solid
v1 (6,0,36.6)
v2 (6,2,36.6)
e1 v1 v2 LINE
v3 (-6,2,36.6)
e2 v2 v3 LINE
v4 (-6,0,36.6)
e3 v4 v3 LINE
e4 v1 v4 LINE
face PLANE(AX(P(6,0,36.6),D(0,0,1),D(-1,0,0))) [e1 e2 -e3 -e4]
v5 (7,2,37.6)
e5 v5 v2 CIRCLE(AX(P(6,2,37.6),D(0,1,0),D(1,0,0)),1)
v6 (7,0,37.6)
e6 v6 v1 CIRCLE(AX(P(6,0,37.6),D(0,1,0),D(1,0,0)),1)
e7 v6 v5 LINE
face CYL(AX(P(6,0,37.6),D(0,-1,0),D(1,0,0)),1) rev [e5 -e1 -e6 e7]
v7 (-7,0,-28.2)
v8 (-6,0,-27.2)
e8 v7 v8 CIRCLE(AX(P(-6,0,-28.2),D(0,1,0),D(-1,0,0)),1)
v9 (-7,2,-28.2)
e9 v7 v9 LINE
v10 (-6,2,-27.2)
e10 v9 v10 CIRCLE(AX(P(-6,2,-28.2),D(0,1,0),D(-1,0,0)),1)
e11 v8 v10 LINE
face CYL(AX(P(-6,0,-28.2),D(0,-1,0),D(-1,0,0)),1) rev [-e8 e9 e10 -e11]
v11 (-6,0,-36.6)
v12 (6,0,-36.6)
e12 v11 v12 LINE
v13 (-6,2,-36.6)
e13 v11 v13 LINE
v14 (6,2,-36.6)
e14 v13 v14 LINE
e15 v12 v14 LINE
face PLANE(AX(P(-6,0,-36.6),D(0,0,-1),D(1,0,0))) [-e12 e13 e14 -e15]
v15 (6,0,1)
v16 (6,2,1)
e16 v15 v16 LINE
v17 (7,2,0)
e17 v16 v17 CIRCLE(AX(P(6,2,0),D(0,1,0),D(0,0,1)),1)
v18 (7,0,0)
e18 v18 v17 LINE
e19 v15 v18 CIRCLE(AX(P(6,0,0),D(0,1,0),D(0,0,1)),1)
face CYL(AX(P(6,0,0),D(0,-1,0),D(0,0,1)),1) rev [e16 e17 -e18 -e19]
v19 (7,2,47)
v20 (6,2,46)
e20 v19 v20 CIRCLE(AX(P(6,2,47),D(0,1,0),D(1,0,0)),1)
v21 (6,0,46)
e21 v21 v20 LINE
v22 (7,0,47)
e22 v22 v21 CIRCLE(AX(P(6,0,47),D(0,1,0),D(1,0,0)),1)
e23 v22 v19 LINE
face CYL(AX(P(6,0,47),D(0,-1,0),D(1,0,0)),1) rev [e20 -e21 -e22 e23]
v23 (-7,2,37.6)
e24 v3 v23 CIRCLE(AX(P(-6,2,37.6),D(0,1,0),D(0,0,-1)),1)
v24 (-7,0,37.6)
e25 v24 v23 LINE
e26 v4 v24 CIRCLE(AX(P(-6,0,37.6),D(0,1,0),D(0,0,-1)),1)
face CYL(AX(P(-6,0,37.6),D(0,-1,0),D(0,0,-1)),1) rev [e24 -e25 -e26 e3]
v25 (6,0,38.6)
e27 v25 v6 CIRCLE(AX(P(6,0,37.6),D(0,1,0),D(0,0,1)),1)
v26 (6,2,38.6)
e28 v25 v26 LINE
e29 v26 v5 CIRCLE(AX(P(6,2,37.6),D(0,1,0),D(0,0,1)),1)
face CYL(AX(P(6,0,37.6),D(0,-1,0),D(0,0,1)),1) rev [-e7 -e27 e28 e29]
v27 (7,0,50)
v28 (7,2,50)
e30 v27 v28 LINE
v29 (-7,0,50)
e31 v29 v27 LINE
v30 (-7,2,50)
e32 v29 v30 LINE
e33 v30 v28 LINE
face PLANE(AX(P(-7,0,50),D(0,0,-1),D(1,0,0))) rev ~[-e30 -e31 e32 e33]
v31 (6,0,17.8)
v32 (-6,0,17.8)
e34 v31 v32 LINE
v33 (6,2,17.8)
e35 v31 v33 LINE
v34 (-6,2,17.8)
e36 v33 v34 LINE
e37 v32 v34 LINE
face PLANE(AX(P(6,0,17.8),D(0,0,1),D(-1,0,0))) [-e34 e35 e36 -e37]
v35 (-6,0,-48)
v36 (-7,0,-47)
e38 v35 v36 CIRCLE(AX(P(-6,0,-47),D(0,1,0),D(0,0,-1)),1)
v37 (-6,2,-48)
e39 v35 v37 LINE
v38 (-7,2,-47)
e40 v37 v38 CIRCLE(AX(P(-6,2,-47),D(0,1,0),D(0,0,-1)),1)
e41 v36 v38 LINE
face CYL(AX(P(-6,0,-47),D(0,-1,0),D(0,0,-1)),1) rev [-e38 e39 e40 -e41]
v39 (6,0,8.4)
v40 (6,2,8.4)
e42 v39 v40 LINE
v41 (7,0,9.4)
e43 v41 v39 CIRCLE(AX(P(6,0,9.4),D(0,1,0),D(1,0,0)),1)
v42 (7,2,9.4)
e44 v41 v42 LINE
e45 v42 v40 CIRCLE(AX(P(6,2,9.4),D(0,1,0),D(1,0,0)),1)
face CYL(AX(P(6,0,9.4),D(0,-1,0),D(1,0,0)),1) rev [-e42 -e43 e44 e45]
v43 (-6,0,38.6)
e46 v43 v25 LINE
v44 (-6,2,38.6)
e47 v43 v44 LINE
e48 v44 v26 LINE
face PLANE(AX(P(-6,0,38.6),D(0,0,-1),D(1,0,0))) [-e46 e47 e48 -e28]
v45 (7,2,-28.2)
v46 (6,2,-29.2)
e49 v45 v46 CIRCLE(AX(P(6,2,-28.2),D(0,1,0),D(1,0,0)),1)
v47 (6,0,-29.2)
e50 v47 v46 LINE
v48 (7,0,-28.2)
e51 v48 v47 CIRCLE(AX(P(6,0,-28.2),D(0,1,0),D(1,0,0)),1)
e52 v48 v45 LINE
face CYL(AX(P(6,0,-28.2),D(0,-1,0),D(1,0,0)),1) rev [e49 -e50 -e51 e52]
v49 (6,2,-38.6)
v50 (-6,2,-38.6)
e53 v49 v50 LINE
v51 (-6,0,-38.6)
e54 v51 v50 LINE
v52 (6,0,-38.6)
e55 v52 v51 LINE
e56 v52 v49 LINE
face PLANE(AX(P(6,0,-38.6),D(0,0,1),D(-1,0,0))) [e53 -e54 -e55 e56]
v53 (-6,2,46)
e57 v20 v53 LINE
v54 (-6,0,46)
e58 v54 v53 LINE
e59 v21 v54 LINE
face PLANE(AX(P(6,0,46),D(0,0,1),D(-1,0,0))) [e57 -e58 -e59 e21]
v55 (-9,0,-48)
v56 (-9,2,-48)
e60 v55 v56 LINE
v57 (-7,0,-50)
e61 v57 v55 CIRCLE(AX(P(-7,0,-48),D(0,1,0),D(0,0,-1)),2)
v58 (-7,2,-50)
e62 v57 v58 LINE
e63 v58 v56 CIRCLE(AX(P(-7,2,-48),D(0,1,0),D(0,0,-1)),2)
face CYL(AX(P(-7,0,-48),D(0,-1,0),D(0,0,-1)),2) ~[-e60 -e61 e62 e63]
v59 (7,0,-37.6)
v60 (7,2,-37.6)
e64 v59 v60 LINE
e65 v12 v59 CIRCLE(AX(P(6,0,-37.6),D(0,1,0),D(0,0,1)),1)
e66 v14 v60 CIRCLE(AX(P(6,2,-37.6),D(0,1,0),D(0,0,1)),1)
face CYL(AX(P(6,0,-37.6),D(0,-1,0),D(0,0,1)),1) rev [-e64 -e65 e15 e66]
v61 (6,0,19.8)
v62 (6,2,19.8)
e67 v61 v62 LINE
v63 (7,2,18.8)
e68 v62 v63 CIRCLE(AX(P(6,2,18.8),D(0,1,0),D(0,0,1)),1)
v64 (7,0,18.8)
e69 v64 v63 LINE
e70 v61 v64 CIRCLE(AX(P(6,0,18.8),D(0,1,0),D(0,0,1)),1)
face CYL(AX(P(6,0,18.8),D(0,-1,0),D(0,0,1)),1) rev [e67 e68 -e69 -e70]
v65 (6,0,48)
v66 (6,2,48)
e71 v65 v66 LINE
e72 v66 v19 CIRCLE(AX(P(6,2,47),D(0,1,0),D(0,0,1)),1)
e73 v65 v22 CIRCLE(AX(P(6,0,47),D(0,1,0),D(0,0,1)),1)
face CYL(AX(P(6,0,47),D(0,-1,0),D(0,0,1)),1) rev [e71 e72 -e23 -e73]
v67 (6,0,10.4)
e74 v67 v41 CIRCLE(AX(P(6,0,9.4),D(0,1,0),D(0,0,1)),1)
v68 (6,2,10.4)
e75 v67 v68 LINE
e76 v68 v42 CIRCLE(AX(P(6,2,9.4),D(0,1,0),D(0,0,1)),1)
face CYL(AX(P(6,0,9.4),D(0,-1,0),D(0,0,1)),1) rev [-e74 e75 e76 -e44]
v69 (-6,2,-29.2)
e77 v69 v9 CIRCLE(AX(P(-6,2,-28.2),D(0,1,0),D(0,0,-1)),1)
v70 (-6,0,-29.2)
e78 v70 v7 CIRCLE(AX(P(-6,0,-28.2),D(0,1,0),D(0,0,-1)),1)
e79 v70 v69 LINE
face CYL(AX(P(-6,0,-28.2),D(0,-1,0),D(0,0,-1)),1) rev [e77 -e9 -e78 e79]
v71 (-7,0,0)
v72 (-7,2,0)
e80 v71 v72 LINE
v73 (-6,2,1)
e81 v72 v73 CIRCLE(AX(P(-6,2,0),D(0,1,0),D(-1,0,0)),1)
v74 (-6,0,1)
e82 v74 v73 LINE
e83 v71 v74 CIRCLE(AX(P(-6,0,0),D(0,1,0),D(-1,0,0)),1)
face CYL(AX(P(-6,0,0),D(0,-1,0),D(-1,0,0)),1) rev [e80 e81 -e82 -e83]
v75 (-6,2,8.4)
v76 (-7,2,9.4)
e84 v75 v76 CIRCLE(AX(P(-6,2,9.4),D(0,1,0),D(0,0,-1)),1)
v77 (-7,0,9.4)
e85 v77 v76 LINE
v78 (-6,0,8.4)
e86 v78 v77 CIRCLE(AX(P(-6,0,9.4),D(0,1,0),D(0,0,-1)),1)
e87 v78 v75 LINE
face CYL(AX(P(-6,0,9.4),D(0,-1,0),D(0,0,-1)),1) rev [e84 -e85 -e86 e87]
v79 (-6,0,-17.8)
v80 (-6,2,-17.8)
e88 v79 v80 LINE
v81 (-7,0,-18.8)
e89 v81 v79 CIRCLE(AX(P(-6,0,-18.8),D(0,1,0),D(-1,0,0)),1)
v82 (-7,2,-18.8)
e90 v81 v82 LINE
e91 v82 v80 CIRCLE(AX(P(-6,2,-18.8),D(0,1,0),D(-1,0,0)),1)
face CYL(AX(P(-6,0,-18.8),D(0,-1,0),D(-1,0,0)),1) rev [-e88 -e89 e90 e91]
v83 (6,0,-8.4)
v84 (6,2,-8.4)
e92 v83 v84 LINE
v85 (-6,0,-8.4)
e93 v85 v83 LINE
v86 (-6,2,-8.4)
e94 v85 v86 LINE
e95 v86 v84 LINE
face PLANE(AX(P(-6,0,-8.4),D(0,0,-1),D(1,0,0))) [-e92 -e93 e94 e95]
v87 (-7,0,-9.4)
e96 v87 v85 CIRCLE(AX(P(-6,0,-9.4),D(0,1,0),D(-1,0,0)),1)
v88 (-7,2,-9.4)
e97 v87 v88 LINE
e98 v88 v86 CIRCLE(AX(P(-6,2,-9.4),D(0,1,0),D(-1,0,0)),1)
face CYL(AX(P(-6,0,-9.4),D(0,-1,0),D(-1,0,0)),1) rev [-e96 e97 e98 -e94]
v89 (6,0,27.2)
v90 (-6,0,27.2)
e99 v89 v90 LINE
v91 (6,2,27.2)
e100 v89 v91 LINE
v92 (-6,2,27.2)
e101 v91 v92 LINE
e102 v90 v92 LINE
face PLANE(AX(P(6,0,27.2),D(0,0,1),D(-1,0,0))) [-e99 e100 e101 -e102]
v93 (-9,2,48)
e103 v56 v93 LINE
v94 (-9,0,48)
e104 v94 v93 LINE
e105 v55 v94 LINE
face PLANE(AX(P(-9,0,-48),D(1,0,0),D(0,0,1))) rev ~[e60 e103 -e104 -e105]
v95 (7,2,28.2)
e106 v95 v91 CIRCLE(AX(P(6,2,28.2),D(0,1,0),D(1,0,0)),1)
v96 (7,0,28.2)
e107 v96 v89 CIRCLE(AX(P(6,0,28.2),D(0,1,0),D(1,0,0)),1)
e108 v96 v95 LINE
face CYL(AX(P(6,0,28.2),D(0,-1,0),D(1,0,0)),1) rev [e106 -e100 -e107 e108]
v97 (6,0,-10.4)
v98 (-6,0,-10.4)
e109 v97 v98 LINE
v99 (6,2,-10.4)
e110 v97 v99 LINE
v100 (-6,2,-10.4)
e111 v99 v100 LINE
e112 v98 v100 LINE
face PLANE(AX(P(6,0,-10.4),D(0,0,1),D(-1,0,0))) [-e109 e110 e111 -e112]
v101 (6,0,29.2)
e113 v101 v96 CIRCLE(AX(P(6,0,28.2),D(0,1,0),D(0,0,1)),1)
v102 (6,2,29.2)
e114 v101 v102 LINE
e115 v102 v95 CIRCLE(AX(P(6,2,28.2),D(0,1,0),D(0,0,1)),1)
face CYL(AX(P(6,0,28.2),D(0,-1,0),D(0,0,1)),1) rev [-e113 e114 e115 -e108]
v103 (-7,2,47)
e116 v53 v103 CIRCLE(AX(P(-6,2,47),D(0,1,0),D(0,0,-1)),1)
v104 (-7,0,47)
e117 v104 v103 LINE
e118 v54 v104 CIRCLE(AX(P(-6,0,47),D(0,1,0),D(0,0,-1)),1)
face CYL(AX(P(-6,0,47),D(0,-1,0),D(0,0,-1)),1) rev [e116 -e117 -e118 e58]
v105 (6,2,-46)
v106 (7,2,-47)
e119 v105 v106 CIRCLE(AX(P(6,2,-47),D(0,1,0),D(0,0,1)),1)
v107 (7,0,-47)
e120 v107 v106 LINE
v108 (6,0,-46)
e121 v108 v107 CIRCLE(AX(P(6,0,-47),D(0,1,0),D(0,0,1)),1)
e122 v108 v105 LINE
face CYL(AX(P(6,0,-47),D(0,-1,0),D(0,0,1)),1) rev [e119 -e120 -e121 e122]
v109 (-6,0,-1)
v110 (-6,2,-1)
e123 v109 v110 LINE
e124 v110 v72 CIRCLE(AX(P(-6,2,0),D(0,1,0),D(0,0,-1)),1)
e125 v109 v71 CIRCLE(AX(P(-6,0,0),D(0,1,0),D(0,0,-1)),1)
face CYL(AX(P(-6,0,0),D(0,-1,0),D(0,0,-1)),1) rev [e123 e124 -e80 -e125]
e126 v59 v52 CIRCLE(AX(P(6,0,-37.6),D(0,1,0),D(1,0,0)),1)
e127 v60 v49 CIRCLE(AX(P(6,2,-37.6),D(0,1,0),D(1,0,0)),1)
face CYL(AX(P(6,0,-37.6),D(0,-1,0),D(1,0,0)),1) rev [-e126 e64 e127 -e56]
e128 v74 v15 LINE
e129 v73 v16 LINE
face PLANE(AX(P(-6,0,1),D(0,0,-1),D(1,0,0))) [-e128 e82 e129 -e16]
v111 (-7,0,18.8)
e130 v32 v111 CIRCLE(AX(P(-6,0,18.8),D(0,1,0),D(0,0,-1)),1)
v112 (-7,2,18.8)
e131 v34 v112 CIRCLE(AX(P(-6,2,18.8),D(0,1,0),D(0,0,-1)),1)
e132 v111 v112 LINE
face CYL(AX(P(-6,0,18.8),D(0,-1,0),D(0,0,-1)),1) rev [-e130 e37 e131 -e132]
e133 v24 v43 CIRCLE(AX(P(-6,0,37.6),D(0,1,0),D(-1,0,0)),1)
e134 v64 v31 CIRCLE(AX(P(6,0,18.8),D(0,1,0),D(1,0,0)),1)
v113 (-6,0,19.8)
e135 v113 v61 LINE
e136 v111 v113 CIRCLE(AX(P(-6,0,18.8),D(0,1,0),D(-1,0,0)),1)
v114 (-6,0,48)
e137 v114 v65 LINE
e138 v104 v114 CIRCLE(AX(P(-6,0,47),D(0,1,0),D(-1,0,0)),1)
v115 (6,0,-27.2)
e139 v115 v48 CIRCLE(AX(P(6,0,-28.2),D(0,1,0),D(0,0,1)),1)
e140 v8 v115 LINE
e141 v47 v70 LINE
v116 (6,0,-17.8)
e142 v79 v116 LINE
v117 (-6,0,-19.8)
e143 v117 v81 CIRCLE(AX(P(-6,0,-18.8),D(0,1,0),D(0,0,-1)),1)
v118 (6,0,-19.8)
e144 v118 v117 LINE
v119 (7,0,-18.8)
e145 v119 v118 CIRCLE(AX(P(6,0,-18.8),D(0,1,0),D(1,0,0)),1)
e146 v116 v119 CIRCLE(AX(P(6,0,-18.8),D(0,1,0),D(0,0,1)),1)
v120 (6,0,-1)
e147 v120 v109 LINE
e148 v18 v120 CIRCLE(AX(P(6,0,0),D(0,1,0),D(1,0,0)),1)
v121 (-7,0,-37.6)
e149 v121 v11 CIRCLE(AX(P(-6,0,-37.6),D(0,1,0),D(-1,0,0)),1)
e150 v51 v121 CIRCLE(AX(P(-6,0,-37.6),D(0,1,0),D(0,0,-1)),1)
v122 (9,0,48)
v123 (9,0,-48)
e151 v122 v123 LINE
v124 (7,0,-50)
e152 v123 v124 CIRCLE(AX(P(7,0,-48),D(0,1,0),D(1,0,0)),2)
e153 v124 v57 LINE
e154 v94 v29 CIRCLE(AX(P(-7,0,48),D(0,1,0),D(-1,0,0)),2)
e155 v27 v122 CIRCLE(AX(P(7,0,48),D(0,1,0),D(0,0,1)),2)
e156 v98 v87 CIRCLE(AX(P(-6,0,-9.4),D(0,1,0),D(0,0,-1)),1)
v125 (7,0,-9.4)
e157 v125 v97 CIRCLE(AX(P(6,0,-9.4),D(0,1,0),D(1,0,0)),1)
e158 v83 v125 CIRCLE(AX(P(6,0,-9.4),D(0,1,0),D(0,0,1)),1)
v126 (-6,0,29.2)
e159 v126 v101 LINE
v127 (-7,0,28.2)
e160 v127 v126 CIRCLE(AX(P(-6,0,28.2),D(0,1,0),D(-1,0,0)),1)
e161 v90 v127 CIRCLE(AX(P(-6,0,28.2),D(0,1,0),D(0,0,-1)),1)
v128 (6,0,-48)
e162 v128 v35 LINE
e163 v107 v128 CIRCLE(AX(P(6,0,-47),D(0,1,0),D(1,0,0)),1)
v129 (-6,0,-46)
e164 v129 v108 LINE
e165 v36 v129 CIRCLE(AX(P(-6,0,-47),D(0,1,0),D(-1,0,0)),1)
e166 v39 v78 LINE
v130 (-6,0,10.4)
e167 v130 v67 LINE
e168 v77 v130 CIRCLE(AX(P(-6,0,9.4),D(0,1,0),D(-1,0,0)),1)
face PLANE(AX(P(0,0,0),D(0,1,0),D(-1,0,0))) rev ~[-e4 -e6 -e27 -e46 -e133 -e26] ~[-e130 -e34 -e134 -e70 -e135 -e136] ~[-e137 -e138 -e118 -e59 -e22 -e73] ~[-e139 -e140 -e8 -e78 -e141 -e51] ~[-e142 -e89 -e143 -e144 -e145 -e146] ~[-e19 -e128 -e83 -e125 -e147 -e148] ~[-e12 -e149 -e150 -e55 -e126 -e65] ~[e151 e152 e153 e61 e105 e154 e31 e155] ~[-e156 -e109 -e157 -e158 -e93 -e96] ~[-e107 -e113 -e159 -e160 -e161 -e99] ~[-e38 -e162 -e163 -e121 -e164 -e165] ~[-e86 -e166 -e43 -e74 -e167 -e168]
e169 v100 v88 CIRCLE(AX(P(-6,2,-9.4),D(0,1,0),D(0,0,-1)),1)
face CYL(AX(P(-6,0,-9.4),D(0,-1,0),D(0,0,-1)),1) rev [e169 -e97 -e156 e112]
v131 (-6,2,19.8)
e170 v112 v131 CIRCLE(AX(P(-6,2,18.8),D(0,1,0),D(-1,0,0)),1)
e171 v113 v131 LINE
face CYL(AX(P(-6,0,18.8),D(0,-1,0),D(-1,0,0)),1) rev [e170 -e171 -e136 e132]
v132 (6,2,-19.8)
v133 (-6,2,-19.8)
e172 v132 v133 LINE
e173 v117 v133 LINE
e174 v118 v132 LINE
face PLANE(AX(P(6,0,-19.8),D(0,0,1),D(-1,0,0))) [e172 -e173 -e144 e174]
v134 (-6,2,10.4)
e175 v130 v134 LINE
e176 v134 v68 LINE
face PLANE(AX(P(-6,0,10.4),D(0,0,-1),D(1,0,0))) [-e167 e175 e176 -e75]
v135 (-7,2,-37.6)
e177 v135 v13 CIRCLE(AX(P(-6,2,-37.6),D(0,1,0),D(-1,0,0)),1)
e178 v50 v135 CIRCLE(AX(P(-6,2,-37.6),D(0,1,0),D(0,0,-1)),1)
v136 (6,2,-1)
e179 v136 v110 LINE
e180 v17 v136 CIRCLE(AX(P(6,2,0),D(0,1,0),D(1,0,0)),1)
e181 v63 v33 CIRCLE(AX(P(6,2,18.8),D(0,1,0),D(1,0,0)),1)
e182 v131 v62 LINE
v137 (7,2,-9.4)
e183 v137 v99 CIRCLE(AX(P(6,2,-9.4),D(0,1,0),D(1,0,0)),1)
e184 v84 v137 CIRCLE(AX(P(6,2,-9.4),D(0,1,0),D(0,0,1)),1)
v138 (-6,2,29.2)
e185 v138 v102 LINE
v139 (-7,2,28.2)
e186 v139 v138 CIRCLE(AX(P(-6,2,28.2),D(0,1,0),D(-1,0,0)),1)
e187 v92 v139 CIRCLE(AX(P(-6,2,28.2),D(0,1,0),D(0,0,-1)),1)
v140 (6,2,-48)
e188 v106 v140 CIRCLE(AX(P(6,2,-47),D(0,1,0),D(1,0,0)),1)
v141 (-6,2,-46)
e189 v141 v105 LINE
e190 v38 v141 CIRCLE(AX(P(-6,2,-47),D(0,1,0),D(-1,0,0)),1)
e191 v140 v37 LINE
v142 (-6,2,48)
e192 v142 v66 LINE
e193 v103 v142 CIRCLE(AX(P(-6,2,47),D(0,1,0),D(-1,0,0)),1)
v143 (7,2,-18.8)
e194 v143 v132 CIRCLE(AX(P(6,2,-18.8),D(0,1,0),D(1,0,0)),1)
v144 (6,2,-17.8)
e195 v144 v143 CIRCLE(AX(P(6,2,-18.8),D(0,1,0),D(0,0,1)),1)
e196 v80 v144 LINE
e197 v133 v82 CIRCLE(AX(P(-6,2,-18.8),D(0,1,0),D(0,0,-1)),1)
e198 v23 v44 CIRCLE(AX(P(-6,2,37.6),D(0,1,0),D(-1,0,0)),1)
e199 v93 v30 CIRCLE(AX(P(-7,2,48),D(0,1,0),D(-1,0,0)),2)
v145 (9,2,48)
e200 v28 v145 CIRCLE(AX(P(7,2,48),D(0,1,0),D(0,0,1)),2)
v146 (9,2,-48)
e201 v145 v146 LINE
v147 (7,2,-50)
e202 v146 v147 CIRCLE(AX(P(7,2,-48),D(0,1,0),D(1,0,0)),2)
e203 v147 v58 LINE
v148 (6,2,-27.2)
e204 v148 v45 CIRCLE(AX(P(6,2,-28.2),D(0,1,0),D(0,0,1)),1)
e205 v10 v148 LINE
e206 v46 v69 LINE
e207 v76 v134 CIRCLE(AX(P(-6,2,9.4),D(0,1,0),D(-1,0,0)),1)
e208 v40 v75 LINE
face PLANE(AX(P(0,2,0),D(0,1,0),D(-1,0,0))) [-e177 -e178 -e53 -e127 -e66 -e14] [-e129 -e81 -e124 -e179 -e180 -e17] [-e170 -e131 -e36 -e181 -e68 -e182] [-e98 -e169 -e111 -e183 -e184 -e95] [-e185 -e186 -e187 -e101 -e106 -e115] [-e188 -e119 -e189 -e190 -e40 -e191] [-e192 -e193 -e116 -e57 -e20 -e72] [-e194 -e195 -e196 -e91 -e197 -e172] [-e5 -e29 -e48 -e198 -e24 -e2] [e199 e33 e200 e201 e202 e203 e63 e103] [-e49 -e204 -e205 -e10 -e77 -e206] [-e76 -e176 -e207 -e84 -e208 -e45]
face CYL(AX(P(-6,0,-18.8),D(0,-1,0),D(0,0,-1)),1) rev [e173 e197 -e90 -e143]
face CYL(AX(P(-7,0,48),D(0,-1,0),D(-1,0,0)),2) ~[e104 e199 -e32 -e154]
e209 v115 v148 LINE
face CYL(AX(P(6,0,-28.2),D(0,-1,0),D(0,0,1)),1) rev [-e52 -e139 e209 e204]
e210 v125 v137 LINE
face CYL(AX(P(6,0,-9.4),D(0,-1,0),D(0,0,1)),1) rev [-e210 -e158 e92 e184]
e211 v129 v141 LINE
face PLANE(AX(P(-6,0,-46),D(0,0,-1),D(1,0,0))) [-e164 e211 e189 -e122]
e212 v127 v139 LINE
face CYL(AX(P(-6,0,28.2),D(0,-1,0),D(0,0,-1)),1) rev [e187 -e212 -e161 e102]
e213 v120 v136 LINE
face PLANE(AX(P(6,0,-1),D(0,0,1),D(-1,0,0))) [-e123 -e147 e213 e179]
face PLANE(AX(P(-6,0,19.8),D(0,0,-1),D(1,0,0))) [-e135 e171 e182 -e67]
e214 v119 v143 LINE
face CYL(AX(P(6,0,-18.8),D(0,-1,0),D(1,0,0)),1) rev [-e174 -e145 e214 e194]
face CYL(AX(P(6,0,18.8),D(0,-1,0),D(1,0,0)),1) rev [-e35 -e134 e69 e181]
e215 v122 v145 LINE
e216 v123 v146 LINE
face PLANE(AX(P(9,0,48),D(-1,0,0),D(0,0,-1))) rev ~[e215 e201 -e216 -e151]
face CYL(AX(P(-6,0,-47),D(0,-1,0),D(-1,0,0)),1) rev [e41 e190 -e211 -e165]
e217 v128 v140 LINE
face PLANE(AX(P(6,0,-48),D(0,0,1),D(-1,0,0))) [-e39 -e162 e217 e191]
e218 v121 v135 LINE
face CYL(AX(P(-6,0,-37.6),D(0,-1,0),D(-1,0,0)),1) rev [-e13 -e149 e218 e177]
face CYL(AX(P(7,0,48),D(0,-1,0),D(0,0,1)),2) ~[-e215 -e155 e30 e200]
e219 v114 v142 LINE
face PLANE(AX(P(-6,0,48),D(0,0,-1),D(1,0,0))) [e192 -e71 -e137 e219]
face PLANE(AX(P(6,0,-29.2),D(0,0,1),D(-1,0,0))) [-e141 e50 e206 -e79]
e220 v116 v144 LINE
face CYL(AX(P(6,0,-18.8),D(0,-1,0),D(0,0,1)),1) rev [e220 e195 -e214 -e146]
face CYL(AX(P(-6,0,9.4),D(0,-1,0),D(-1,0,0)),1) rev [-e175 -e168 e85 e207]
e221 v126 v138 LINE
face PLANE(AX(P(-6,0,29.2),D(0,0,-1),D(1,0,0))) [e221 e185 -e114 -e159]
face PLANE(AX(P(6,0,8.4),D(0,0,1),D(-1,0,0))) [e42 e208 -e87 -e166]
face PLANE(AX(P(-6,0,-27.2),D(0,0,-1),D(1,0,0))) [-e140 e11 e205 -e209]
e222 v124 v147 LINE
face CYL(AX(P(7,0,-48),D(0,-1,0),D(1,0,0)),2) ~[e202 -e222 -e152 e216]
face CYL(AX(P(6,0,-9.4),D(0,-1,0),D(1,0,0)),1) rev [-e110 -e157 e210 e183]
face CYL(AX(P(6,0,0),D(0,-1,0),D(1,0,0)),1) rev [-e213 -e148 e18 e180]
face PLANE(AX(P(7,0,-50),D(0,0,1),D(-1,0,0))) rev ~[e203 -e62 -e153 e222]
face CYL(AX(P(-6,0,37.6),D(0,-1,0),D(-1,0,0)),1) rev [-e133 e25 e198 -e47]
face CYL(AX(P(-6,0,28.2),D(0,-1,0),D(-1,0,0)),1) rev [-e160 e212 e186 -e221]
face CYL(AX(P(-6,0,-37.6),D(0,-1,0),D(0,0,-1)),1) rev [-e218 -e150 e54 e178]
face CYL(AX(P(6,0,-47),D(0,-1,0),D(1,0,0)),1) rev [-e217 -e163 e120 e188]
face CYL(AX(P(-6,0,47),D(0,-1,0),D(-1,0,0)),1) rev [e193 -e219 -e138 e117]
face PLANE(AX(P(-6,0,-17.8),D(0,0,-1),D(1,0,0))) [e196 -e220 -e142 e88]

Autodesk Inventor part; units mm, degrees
ref_plane "YZ Plane" through (0, 0, 0) normal (1, 0, 0) x (0, 1, 0)
ref_plane "XZ Plane" through (0, 0, 0) normal (0, 1, 0) x (-1, 0, 0)
ref_plane "XY Plane" through (0, 0, 0) normal (0, 0, 1) x (1, 0, 0)
sketch "Sketch1" plane through (0, 0, 0) normal (0, 1, 0) x (-1, 0, 0)
  line L0 (-9, 48) -> (-9, -48)
  line L1 (-7, -50) -> (7, -50)
  line L2 (9, -48) -> (9, 48)
  line L3 (7, 50) -> (-7, 50)
  line L4 (-9, 50) -> (9, -50) construction
  line L5 (-9, -50) -> (9, 50) construction
  arc A0 (9, 48) -> (7, 50) centre (7, 48) ccw
  arc A1 (-7, 50) -> (-9, 48) centre (-7, 48) ccw
  arc A2 (-9, -48) -> (-7, -50) centre (-7, -48) ccw
  arc A3 (7, -50) -> (9, -48) centre (7, -48) ccw
  line L6 (-7, 47) -> (-7, 47)
  line L7 (-6, 46) -> (6, 46)
  line L8 (7, 47) -> (7, 47)
  line L9 (6, 48) -> (-6, 48)
  arc A4 (7, 47) -> (6, 48) centre (6, 47) ccw
  arc A5 (6, 46) -> (7, 47) centre (6, 47) ccw
  arc A6 (-6, 48) -> (-7, 47) centre (-6, 47) ccw
  arc A7 (-7, 47) -> (-6, 46) centre (-6, 47) ccw
  line L10 (-7, 37.6) -> (-7, 37.6)
  line L11 (-6, 36.6) -> (6, 36.6)
  line L12 (7, 37.6) -> (7, 37.6)
  line L13 (6, 38.6) -> (-6, 38.6)
  arc A8 (7, 37.6) -> (6, 38.6) centre (6, 37.6) ccw
  arc A9 (6, 36.6) -> (7, 37.6) centre (6, 37.6) ccw
  arc A10 (-6, 38.6) -> (-7, 37.6) centre (-6, 37.6) ccw
  arc A11 (-7, 37.6) -> (-6, 36.6) centre (-6, 37.6) ccw
  line L14 (-7, 28.2) -> (-7, 28.2)
  line L15 (-6, 27.2) -> (6, 27.2)
  line L16 (7, 28.2) -> (7, 28.2)
  line L17 (6, 29.2) -> (-6, 29.2)
  arc A12 (7, 28.2) -> (6, 29.2) centre (6, 28.2) ccw
  arc A13 (6, 27.2) -> (7, 28.2) centre (6, 28.2) ccw
  arc A14 (-6, 29.2) -> (-7, 28.2) centre (-6, 28.2) ccw
  arc A15 (-7, 28.2) -> (-6, 27.2) centre (-6, 28.2) ccw
  line L18 (-7, 18.8) -> (-7, 18.8)
  line L19 (-6, 17.8) -> (6, 17.8)
  line L20 (7, 18.8) -> (7, 18.8)
  line L21 (6, 19.8) -> (-6, 19.8)
  arc A16 (7, 18.8) -> (6, 19.8) centre (6, 18.8) ccw
  arc A17 (6, 17.8) -> (7, 18.8) centre (6, 18.8) ccw
  arc A18 (-6, 19.8) -> (-7, 18.8) centre (-6, 18.8) ccw
  arc A19 (-7, 18.8) -> (-6, 17.8) centre (-6, 18.8) ccw
  line L22 (-7, 9.4) -> (-7, 9.4)
  line L23 (-6, 8.4) -> (6, 8.4)
  line L24 (7, 9.4) -> (7, 9.4)
  line L25 (6, 10.4) -> (-6, 10.4)
  arc A20 (7, 9.4) -> (6, 10.4) centre (6, 9.4) ccw
  arc A21 (6, 8.4) -> (7, 9.4) centre (6, 9.4) ccw
  arc A22 (-6, 10.4) -> (-7, 9.4) centre (-6, 9.4) ccw
  arc A23 (-7, 9.4) -> (-6, 8.4) centre (-6, 9.4) ccw
  line L26 (-7, 0) -> (-7, 0)
  line L27 (-6, -1) -> (6, -1)
  line L28 (7, 0) -> (7, 0)
  line L29 (6, 1) -> (-6, 1)
  arc A24 (7, 0) -> (6, 1) centre (6, 0) ccw
  arc A25 (6, -1) -> (7, 0) centre (6, 0) ccw
  arc A26 (-6, 1) -> (-7, 0) centre (-6, 0) ccw
  arc A27 (-7, 0) -> (-6, -1) centre (-6, 0) ccw
  line L30 (-7, -9.4) -> (-7, -9.4)
  line L31 (-6, -10.4) -> (6, -10.4)
  line L32 (7, -9.4) -> (7, -9.4)
  line L33 (6, -8.4) -> (-6, -8.4)
  arc A28 (7, -9.4) -> (6, -8.4) centre (6, -9.4) ccw
  arc A29 (6, -10.4) -> (7, -9.4) centre (6, -9.4) ccw
  arc A30 (-6, -8.4) -> (-7, -9.4) centre (-6, -9.4) ccw
  arc A31 (-7, -9.4) -> (-6, -10.4) centre (-6, -9.4) ccw
  line L34 (-7, -18.8) -> (-7, -18.8)
  line L35 (-6, -19.8) -> (6, -19.8)
  line L36 (7, -18.8) -> (7, -18.8)
  line L37 (6, -17.8) -> (-6, -17.8)
  arc A32 (7, -18.8) -> (6, -17.8) centre (6, -18.8) ccw
  arc A33 (6, -19.8) -> (7, -18.8) centre (6, -18.8) ccw
  arc A34 (-6, -17.8) -> (-7, -18.8) centre (-6, -18.8) ccw
  arc A35 (-7, -18.8) -> (-6, -19.8) centre (-6, -18.8) ccw
  line L38 (-7, -28.2) -> (-7, -28.2)
  line L39 (-6, -29.2) -> (6, -29.2)
  line L40 (7, -28.2) -> (7, -28.2)
  line L41 (6, -27.2) -> (-6, -27.2)
  arc A36 (7, -28.2) -> (6, -27.2) centre (6, -28.2) ccw
  arc A37 (6, -29.2) -> (7, -28.2) centre (6, -28.2) ccw
  arc A38 (-6, -27.2) -> (-7, -28.2) centre (-6, -28.2) ccw
  arc A39 (-7, -28.2) -> (-6, -29.2) centre (-6, -28.2) ccw
  line L42 (-7, -37.6) -> (-7, -37.6)
  line L43 (-6, -38.6) -> (6, -38.6)
  line L44 (7, -37.6) -> (7, -37.6)
  line L45 (6, -36.6) -> (-6, -36.6)
  arc A40 (7, -37.6) -> (6, -36.6) centre (6, -37.6) ccw
  arc A41 (6, -38.6) -> (7, -37.6) centre (6, -37.6) ccw
  arc A42 (-6, -36.6) -> (-7, -37.6) centre (-6, -37.6) ccw
  arc A43 (-7, -37.6) -> (-6, -38.6) centre (-6, -37.6) ccw
  line L46 (-7, -47) -> (-7, -47)
  line L47 (-6, -48) -> (6, -48)
  line L48 (7, -47) -> (7, -47)
  line L49 (6, -46) -> (-6, -46)
  arc A44 (7, -47) -> (6, -46) centre (6, -47) ccw
  arc A45 (6, -48) -> (7, -47) centre (6, -47) ccw
  arc A46 (-6, -46) -> (-7, -47) centre (-6, -47) ccw
  arc A47 (-7, -47) -> (-6, -48) centre (-6, -47) ccw
  point P0 (0, 0)
  point P1 (-7, 46)
  point P2 (7, 38.6)
  point P3 (-7, 38.6)
  point P4 (-7, 36.6)
  point P5 (7, 29.2)
  point P6 (-7, 29.2)
  point P7 (-7, 27.2)
  point P8 (7, 19.8)
  point P9 (-7, 19.8)
  point P10 (-7, 17.8)
  point P11 (7, 10.4)
  point P12 (-7, 10.4)
  point P13 (-7, 8.4)
  point P14 (7, 1)
  point P15 (-7, 1)
  point P16 (-7, -1)
  point P17 (7, -8.4)
  point P18 (-7, -8.4)
  point P19 (-7, -10.4)
  point P20 (7, -17.8)
  point P21 (-7, -17.8)
  point P22 (-7, -19.8)
  point P23 (7, -27.2)
  point P24 (-7, -27.2)
  point P25 (-7, -29.2)
  point P26 (7, -36.6)
  point P27 (-7, -36.6)
  point P28 (-7, -38.6)
  point P29 (7, -46)
  point P30 (-7, -46)
  point P31 (-7, -48)
  dimension "d0" = 100
  dimension "d1" = 18
  dimension "d2" = 2
  dimension "d3" = 2
  dimension "d4" = 1
  dimension "d5" = 1
  dimension "d8" = 9.4
extrude "Extrusion1" add sketch "Sketch1" along normal blind 2
properties part number "Kicker Plate"
